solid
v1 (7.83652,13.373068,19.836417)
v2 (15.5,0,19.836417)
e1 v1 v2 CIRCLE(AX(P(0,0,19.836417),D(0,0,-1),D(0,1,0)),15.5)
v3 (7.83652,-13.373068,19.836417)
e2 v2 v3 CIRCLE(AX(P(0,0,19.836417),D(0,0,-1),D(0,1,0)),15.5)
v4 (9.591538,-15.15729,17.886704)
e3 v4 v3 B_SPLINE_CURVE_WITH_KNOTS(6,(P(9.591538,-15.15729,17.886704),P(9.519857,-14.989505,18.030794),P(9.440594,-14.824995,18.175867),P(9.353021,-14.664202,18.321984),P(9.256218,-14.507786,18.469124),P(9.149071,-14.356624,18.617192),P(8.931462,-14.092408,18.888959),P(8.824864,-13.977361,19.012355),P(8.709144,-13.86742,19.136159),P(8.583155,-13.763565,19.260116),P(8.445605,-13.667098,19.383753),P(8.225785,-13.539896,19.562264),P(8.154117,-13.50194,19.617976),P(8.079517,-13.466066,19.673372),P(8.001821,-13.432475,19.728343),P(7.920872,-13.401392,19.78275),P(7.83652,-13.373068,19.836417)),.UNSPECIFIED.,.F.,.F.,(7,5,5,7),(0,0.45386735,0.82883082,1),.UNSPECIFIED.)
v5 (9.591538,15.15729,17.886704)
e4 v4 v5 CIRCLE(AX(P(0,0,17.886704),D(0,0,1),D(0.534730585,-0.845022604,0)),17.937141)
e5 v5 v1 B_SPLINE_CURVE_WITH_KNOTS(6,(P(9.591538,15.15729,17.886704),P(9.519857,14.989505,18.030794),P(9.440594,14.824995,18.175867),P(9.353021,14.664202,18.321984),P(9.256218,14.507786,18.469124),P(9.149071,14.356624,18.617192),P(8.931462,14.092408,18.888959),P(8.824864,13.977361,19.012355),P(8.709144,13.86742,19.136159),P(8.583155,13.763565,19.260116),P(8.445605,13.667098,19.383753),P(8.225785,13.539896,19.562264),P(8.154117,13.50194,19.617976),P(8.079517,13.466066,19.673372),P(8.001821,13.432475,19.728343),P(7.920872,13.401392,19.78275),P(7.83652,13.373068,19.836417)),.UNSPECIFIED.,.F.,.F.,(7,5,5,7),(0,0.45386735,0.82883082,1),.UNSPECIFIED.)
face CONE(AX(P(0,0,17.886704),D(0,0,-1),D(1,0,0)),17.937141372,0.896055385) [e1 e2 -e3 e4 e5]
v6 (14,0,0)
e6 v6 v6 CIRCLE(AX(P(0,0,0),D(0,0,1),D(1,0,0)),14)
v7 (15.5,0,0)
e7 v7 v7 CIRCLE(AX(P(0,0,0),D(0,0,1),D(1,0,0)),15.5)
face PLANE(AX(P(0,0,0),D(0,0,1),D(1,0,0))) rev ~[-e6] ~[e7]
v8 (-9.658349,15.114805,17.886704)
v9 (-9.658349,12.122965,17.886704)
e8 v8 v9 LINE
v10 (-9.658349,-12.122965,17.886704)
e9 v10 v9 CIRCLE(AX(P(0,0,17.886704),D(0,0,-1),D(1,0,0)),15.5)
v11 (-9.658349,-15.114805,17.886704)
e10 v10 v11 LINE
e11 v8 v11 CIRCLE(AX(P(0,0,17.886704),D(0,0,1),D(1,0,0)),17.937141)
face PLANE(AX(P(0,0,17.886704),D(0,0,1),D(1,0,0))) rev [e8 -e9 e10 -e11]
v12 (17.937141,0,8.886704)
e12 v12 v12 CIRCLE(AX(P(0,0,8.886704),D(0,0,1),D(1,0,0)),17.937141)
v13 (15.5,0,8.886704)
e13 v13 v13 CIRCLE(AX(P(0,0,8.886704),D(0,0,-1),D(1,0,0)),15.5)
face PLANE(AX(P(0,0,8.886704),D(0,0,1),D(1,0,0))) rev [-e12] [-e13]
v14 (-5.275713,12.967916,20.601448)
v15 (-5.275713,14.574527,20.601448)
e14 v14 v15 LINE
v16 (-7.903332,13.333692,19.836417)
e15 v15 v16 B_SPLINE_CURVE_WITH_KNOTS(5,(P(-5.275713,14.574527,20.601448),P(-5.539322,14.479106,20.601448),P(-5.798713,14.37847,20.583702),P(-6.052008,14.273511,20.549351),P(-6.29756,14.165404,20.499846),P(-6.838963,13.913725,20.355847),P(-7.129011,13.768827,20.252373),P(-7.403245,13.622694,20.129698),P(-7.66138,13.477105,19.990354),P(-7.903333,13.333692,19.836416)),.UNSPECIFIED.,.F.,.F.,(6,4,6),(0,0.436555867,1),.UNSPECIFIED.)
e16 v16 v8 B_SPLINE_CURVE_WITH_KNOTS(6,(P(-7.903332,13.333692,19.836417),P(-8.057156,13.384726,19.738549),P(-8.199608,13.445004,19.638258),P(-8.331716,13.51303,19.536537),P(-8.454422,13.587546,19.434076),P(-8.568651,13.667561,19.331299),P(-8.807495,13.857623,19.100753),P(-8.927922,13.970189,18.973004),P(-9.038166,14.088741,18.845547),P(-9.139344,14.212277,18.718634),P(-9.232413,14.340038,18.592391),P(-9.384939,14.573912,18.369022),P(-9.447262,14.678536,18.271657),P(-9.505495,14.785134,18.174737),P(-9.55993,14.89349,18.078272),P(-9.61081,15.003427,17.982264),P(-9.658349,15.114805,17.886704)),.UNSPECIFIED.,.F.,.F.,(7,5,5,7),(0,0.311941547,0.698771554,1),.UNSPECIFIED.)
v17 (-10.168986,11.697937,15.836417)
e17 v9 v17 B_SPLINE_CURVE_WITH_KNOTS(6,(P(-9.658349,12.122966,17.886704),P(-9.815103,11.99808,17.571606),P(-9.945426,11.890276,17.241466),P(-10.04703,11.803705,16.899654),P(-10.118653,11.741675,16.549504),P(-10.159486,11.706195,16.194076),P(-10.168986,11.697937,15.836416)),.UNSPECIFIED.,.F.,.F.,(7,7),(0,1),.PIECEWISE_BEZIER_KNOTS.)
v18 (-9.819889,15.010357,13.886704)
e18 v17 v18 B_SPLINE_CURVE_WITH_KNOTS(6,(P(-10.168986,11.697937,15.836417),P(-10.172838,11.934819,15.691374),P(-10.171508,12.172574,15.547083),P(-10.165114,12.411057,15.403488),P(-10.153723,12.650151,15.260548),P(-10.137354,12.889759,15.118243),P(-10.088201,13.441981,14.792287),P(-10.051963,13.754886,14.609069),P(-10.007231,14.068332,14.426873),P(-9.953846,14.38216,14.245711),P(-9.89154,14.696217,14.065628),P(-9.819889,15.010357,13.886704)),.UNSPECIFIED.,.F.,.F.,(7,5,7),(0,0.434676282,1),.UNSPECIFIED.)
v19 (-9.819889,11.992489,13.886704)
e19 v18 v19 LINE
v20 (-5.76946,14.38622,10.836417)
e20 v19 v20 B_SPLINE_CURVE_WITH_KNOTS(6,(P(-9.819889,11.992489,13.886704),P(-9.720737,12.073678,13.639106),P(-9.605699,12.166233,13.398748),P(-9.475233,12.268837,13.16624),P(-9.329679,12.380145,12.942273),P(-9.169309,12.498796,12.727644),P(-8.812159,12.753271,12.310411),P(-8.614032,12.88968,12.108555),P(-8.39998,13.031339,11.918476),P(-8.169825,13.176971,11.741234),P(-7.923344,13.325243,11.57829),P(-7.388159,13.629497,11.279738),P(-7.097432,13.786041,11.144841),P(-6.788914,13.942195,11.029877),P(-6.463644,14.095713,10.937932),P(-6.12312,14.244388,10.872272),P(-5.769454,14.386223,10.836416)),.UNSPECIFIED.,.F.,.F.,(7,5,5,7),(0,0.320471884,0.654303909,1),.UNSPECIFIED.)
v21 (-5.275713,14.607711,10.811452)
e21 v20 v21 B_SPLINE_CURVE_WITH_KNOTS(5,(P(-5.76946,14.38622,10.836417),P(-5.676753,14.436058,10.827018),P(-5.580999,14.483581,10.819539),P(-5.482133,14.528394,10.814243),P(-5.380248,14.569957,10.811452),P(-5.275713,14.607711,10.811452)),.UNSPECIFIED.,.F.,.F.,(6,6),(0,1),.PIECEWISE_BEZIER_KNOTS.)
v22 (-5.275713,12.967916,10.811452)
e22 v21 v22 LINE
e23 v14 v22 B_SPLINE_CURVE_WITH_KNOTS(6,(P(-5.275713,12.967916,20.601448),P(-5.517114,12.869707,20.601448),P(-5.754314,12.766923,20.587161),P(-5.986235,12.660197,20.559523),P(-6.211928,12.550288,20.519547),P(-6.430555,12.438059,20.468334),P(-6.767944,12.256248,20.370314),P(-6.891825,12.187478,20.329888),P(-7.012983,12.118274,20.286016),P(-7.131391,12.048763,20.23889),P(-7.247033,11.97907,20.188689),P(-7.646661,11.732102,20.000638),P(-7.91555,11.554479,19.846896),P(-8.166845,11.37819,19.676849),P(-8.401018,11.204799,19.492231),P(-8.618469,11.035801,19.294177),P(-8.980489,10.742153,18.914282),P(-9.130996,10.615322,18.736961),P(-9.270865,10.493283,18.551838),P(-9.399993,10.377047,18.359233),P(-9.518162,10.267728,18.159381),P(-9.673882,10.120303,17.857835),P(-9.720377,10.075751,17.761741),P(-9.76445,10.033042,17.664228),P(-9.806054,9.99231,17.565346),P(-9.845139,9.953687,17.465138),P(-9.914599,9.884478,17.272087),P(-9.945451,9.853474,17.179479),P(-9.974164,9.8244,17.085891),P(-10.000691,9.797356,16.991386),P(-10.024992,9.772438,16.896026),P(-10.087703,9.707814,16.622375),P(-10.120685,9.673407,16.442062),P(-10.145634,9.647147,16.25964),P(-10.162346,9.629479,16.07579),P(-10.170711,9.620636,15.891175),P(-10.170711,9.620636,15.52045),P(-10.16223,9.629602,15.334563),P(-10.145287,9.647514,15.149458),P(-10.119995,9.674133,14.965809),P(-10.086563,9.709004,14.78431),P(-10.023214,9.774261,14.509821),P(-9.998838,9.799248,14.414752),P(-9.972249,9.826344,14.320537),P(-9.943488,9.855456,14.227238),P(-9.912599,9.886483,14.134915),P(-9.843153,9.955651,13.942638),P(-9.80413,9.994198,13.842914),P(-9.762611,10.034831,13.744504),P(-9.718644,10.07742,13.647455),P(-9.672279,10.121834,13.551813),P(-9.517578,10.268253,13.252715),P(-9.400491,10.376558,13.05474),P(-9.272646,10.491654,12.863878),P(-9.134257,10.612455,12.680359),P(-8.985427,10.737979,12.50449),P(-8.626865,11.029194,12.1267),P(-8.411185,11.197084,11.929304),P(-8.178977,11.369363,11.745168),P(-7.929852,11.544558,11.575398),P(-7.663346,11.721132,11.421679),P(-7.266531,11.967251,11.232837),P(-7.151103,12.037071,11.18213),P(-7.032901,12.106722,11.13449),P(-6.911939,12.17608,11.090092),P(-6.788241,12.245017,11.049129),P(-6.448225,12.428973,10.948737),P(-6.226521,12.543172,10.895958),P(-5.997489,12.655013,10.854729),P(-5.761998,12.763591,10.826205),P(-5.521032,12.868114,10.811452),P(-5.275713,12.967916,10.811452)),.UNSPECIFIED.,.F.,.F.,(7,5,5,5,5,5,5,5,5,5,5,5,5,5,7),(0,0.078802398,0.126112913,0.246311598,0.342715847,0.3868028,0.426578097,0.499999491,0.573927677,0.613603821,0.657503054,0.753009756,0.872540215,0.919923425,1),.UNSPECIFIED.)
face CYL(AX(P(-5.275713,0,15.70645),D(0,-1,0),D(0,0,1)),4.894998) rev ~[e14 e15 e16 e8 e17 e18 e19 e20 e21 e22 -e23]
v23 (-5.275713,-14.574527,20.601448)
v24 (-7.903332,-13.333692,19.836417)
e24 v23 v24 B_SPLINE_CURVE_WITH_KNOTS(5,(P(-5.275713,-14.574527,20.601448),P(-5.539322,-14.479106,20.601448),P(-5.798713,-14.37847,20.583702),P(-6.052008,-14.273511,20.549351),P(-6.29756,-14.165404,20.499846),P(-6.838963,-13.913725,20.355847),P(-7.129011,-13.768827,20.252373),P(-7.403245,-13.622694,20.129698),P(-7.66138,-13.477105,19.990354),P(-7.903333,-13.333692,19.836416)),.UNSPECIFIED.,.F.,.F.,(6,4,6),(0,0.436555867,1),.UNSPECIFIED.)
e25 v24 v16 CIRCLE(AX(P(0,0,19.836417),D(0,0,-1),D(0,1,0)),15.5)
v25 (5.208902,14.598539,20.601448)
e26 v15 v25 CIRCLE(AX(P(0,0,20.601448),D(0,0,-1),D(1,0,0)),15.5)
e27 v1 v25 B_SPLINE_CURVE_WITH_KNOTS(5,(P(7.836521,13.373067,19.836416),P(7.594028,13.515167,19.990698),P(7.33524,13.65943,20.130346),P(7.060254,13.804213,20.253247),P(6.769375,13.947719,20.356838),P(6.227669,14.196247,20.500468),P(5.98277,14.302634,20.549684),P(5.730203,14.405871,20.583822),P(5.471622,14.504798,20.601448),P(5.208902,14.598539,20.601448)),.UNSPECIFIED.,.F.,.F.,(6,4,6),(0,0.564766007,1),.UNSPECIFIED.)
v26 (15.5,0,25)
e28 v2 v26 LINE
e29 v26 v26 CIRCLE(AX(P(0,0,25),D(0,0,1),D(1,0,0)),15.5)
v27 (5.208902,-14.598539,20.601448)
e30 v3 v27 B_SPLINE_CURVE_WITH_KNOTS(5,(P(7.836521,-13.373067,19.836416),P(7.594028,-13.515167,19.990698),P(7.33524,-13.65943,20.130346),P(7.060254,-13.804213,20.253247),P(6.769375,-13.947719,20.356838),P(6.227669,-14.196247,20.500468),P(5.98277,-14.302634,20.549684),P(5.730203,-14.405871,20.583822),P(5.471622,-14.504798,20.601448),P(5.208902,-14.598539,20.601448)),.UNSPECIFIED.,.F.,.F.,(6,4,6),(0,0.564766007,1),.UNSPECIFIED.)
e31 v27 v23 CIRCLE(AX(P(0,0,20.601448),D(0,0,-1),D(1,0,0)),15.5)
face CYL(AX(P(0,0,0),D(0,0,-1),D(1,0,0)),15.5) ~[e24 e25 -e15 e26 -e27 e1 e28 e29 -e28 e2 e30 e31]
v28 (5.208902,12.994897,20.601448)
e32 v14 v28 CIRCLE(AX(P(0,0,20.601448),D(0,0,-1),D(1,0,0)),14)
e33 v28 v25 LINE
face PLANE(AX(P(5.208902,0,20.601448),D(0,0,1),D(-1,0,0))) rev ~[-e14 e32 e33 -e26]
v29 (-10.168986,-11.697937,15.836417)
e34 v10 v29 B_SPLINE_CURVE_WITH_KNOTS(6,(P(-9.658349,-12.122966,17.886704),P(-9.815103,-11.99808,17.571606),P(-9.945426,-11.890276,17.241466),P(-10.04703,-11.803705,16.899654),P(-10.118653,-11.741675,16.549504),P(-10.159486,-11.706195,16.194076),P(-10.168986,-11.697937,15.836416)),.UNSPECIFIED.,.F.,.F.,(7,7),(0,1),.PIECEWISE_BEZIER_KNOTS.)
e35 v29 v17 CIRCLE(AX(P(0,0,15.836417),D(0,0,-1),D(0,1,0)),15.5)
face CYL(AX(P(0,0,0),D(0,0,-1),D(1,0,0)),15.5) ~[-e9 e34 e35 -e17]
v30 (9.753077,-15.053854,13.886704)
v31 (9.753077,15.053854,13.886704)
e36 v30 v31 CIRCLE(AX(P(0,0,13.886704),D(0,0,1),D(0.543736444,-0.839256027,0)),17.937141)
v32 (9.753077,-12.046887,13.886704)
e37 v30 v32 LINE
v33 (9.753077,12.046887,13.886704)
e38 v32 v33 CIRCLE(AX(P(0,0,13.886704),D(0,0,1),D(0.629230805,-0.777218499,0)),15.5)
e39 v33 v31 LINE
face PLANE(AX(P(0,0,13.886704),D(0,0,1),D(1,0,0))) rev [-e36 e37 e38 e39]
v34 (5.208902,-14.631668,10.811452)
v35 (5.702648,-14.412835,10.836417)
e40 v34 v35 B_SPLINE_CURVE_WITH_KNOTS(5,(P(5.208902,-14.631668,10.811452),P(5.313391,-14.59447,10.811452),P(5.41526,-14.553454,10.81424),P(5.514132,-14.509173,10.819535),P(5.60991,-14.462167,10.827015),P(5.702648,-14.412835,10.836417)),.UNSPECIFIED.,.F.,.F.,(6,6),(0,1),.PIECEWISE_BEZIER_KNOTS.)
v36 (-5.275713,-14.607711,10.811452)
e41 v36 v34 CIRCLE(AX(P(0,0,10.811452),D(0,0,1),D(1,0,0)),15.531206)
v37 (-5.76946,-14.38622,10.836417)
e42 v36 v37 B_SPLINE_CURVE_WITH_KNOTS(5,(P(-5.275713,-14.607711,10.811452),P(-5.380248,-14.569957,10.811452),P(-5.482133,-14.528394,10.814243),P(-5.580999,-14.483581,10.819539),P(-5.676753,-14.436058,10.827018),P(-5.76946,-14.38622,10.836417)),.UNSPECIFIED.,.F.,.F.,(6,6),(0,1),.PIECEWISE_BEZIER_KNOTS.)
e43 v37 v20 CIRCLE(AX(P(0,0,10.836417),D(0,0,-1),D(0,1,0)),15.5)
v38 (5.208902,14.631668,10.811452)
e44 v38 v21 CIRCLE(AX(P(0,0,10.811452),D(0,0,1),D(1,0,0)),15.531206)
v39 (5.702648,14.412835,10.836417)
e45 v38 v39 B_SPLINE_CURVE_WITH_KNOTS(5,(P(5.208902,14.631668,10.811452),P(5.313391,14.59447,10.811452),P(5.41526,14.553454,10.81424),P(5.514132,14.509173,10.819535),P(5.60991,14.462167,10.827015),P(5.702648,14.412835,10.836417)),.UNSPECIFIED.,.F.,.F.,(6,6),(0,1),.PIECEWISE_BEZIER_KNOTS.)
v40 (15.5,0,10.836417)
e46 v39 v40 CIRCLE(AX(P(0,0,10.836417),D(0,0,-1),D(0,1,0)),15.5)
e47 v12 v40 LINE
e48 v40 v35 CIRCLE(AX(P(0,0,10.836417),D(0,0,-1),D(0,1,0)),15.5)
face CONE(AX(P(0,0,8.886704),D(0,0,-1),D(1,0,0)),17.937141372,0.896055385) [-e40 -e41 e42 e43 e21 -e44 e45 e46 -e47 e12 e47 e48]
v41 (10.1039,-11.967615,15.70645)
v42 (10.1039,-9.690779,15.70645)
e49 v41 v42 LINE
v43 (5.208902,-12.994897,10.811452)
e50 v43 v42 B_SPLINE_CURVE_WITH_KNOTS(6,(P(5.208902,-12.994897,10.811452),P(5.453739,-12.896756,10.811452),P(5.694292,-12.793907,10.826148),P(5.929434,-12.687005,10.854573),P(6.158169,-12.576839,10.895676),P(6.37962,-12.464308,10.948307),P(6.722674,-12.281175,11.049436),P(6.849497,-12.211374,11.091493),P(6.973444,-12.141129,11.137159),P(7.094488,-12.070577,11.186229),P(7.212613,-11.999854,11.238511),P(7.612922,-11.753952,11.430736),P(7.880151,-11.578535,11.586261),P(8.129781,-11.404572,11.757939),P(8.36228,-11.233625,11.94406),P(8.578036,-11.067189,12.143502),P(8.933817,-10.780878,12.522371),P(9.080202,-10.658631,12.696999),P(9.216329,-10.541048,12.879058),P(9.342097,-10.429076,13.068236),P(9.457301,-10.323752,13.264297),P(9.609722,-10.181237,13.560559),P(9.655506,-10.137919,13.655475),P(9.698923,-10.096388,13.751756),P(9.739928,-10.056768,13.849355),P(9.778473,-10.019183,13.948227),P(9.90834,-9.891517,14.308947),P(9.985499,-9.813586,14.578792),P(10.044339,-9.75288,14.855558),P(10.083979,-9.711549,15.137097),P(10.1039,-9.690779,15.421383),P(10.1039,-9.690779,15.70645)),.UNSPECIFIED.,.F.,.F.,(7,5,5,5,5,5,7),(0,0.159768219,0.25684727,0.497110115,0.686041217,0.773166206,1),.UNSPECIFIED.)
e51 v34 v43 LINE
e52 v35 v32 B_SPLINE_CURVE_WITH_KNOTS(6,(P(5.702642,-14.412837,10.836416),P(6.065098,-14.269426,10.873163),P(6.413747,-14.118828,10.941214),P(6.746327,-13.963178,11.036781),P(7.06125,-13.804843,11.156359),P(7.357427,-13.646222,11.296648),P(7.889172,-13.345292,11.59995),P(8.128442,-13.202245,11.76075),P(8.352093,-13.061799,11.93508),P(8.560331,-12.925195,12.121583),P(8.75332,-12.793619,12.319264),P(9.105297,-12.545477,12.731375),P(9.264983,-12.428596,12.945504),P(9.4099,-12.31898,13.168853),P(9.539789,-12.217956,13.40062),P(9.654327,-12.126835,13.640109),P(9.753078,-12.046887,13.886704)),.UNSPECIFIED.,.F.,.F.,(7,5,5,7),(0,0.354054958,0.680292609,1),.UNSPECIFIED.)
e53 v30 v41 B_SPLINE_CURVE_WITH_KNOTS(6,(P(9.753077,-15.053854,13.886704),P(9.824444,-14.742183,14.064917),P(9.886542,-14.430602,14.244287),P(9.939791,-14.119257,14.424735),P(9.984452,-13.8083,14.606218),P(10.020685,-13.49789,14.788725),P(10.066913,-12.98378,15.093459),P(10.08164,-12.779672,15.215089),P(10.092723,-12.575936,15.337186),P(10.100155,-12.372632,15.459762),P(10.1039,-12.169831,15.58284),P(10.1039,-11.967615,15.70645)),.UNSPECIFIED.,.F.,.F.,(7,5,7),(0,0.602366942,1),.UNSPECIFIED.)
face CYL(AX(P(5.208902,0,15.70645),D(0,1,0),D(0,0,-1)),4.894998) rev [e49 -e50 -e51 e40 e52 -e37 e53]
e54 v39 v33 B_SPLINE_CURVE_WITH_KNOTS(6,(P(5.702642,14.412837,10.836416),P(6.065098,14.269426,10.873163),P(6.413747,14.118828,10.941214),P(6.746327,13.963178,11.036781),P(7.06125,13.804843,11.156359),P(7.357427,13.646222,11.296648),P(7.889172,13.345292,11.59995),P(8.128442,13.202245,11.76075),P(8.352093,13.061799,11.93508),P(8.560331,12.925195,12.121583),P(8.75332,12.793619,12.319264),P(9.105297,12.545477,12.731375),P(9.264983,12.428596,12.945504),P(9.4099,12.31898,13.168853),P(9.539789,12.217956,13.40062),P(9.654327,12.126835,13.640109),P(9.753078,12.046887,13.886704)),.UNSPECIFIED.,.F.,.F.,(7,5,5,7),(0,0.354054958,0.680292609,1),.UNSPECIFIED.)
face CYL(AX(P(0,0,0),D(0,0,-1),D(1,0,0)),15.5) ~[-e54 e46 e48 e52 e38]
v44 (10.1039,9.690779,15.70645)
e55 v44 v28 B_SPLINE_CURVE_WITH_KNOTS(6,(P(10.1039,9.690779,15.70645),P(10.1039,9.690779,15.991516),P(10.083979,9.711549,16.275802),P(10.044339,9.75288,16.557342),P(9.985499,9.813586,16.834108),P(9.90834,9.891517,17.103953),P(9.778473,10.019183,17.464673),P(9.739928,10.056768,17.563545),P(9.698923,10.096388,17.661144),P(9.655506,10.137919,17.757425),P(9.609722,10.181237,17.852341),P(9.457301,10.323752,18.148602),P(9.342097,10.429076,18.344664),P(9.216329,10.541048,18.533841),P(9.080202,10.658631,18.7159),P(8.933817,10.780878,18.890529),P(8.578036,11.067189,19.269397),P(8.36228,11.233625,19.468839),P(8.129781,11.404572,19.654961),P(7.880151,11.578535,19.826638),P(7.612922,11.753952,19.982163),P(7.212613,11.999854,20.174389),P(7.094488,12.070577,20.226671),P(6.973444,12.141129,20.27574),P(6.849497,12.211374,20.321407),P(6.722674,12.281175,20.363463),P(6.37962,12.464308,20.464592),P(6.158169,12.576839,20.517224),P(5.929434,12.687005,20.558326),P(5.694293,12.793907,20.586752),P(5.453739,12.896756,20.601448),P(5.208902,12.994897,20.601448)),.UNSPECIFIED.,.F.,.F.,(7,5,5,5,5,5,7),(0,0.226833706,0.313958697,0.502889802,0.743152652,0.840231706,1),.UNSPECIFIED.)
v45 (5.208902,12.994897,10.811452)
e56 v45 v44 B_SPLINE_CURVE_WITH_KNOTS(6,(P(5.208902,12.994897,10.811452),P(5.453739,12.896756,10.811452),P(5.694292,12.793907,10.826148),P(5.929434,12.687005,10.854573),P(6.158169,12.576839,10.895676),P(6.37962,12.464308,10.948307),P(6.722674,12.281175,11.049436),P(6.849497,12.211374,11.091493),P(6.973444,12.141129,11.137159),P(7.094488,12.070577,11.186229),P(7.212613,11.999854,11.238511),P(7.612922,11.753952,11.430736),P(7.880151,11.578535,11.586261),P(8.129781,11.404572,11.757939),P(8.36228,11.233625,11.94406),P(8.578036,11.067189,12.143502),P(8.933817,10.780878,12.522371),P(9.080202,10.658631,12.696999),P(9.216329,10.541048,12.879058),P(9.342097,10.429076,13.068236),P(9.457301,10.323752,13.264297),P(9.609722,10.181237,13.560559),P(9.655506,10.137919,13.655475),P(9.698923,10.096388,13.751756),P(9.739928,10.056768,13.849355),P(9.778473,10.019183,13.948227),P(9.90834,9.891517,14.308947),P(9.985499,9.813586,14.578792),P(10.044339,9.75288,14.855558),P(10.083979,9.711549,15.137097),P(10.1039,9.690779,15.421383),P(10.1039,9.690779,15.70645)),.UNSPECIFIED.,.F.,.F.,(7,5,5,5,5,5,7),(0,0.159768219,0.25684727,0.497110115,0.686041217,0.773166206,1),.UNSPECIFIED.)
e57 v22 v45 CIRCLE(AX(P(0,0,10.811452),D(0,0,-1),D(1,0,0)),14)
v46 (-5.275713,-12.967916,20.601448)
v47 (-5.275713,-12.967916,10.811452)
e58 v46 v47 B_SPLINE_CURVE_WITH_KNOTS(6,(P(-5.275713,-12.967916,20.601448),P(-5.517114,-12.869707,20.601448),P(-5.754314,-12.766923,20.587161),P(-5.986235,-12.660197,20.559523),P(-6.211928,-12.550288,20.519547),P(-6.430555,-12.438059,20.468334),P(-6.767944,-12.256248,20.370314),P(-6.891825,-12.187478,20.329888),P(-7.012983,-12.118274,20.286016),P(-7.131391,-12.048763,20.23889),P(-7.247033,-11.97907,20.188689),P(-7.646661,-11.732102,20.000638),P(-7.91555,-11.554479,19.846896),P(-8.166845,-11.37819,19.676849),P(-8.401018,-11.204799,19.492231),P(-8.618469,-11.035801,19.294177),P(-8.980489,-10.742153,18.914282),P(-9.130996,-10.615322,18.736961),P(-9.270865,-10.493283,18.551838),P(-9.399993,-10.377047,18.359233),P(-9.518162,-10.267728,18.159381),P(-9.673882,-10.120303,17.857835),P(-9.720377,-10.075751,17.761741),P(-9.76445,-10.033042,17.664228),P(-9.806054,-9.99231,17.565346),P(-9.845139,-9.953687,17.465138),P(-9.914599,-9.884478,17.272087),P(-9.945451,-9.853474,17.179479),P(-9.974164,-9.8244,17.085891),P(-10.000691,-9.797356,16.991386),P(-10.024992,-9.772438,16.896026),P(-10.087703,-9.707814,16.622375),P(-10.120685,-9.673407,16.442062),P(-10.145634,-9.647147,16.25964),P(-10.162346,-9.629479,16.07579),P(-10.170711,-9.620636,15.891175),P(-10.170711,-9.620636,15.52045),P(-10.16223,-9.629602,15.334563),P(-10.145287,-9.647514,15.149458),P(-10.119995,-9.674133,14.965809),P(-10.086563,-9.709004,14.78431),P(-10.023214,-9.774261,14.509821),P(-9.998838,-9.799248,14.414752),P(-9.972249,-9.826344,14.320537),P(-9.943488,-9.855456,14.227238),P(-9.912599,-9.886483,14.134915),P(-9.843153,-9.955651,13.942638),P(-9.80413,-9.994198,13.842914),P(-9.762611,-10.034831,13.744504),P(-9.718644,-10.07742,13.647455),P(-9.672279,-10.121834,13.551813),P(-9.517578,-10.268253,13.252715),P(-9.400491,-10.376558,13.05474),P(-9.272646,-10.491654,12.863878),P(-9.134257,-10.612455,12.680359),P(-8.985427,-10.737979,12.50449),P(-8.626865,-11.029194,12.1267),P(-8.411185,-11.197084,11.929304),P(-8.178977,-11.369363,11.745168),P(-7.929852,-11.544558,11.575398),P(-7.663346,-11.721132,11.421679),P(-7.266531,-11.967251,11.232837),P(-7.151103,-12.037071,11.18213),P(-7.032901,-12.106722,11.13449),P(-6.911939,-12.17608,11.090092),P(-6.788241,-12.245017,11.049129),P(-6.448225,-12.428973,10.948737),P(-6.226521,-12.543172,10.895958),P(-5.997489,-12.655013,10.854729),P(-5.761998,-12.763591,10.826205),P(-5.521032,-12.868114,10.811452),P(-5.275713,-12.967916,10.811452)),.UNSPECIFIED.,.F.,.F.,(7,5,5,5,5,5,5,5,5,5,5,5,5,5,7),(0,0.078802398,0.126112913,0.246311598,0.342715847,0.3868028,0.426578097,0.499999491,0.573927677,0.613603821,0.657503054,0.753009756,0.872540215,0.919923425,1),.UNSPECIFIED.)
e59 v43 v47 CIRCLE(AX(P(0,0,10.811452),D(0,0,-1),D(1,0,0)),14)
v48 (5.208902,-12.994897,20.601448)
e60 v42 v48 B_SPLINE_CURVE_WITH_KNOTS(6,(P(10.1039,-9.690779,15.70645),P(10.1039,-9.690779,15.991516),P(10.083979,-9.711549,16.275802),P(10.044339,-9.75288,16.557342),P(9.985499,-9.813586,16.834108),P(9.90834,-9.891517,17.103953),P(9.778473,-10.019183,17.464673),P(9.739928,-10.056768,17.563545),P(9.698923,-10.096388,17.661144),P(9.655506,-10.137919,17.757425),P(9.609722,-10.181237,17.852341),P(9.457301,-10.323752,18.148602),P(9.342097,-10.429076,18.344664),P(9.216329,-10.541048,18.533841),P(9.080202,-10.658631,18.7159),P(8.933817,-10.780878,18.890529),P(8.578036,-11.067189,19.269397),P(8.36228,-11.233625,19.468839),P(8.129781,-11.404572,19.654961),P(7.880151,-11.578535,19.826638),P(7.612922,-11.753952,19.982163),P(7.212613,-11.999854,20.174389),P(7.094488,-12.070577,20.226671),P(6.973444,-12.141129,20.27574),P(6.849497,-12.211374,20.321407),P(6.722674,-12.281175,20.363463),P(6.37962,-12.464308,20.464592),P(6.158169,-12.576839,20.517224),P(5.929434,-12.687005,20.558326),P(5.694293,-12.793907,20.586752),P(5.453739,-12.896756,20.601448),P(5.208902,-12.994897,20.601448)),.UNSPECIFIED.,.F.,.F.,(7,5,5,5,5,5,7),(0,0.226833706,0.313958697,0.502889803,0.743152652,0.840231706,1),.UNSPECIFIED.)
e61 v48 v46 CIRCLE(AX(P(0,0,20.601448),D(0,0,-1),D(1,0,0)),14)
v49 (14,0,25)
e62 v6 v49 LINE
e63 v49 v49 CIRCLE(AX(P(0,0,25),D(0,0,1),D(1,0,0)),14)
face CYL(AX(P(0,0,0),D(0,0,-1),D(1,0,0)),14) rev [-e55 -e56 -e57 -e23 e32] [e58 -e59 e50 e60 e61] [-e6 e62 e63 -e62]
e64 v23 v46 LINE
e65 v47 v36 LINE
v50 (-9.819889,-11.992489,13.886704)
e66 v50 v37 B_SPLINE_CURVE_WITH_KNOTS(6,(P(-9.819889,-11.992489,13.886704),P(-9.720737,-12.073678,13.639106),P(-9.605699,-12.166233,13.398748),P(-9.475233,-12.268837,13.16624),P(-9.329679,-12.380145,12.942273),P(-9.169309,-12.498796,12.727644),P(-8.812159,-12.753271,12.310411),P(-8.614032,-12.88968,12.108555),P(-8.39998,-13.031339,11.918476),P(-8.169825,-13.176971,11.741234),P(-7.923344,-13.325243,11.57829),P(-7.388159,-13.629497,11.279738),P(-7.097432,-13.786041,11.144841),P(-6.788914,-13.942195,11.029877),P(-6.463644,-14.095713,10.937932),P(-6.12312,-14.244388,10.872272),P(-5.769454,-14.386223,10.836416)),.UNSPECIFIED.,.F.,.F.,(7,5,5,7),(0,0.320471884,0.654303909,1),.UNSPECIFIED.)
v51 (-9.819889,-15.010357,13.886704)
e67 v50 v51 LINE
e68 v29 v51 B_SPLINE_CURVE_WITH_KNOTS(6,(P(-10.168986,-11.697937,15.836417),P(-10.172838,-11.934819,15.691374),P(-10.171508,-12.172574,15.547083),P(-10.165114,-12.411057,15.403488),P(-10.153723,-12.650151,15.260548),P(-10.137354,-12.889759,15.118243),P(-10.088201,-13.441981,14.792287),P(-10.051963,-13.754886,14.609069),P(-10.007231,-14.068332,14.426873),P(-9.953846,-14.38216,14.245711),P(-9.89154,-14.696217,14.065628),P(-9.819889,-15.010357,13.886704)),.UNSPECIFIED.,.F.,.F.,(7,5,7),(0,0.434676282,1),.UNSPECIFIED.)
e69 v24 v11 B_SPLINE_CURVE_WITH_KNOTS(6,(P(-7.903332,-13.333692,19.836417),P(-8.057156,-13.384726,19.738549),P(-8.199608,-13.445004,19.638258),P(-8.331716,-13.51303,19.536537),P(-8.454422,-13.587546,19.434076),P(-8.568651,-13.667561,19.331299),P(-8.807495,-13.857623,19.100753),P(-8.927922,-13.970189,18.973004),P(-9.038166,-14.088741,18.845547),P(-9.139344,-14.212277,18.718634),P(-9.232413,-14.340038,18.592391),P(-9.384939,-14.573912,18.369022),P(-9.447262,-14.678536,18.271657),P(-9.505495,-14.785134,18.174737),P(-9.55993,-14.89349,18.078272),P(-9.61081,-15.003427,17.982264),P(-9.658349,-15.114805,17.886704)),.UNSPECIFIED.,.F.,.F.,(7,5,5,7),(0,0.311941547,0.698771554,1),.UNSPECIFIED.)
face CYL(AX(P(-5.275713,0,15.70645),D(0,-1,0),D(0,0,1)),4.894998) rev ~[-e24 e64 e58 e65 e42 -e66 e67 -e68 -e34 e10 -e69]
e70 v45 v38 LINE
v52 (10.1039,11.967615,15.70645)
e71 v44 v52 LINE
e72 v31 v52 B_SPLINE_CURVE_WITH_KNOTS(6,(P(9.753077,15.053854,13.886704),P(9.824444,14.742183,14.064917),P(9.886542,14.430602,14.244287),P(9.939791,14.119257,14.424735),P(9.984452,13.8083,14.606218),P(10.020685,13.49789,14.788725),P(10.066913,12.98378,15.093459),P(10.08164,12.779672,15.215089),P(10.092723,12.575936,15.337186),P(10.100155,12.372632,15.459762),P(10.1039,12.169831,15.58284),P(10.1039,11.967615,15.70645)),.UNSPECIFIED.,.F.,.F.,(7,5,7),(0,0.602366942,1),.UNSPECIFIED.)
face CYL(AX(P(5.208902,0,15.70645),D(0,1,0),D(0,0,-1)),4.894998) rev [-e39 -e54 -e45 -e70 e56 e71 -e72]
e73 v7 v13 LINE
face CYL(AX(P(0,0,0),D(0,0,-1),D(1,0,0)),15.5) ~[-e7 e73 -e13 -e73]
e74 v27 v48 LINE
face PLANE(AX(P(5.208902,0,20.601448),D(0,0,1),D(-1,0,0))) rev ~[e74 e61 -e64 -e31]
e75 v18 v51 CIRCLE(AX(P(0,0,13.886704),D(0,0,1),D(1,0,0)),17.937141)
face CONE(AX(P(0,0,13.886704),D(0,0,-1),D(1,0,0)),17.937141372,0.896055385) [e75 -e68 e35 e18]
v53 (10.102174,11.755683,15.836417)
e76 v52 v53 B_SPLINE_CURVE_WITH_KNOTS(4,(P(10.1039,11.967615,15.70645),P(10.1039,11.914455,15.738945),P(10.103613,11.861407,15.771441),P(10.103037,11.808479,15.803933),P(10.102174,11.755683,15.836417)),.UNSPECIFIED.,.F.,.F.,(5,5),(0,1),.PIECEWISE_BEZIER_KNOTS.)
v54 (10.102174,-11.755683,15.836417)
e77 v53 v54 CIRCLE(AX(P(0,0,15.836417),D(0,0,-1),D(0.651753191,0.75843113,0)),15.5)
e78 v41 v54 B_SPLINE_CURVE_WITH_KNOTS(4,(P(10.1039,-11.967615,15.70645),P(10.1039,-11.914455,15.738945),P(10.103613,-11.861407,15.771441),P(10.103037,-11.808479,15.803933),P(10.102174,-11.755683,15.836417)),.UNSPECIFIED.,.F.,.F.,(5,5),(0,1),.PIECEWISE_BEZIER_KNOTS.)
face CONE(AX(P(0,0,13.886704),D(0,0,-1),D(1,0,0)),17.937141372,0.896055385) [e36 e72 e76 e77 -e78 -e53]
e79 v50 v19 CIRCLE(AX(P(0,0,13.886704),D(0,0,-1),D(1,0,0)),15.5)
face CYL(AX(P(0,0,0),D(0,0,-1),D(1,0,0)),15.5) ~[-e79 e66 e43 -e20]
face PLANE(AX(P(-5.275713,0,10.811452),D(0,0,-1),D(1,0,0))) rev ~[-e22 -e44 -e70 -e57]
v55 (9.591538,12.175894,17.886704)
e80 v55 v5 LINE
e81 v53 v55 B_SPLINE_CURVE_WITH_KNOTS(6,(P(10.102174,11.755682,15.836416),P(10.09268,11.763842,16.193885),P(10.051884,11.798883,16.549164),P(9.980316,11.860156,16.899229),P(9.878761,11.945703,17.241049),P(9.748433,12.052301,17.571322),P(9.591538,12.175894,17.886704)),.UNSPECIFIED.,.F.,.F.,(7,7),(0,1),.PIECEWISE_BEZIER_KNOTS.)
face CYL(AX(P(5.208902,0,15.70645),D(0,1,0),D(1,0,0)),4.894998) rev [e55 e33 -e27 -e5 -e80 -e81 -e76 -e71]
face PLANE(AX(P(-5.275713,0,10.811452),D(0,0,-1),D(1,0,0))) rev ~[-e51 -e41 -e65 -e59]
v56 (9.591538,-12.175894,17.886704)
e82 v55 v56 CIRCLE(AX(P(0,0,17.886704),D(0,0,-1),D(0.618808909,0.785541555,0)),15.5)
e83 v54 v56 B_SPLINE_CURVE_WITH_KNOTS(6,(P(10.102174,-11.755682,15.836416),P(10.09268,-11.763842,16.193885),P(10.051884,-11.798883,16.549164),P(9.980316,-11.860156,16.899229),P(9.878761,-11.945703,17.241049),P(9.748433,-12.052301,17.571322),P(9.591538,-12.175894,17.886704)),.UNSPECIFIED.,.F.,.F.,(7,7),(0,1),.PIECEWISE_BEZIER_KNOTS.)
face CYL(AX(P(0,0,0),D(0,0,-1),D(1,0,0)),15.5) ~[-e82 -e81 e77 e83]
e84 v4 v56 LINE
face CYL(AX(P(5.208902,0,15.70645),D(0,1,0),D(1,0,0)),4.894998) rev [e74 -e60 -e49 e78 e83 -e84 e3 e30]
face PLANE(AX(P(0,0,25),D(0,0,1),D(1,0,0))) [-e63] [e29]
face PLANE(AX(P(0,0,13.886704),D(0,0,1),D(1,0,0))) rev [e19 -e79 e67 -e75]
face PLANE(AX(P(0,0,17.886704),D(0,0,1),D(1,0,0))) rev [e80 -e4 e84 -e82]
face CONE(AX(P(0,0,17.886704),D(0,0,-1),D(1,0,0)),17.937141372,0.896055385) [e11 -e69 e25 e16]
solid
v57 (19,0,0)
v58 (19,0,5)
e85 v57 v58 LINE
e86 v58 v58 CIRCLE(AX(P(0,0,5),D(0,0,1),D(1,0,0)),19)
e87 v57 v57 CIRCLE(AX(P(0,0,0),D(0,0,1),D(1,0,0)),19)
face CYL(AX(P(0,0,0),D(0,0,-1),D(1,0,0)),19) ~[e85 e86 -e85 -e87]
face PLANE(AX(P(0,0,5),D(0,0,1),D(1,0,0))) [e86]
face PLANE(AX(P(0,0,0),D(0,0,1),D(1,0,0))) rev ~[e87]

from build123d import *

# Parameters (mm, degrees)
F0_R     = 19
F0_R_2   = 15.5
F0_R_3   = 14
F1_DEPTH = 5
F2_DEPTH = 25
F6_DEPTH = 25


with BuildPart() as f1:
    # F0 (on Top) → F1 (new body)
    with BuildSketch(Plane.XY):
        Circle(F0_R)
        Circle(F0_R_2, mode=Mode.SUBTRACT)
        Circle(F0_R_2)
        Circle(F0_R_3, mode=Mode.SUBTRACT)
        Circle(F0_R_3)
    extrude(amount=F1_DEPTH)


with BuildPart() as f2:
    # F0 (on Top) → F2 (new body)
    with BuildSketch(Plane.XY):
        Circle(F0_R_2)
        Circle(F0_R_3, mode=Mode.SUBTRACT)
    extrude(amount=F2_DEPTH)

    # F3 (on Front) → F4 (revolve)
    with BuildSketch(Plane.XZ):
        Polygon((17.9371413716, 13.8867036179), (15.4371413716, 15.8867036179), (15.4371413716, 13.8867036179), align=None)
        Polygon((17.9371413716, 17.8867037556), (15.4371413716, 19.8867037556), (15.4371413716, 17.8867037556), align=None)
        Polygon((17.9371413716, 8.8867037271), (15.4371413716, 10.8867037271), (15.4371413716, 8.8867037271), align=None)
    revolve(axis=Axis((0, 0, 18.7137275934), (0, 0, 1)))


with BuildPart() as f6:
    # F5 (on Front) → F6 (new body, symmetric)
    with BuildSketch(Plane.XZ):
        with BuildLine():
            ThreePointArc((-5.2757132798, 10.8114516745), (-1.8144269488, 12.2451634161), (-0.3807152072, 15.7064497471))
            ThreePointArc((-0.3807152072, 15.7064497471), (-1.8144269488, 19.1677360781), (-5.2757132798, 20.6014478197))
            ThreePointArc((-5.2757132798, 20.6014478197), (-10.1707113524, 15.7064497471), (-5.2757132798, 10.8114516745))
        make_face()
        with BuildLine():
            ThreePointArc((10.1039001336, 15.7064497471), (8.670188392, 19.1677360781), (5.208902061, 20.6014478197))
            ThreePointArc((5.208902061, 20.6014478197), (0.3139039884, 15.7064497471), (5.208902061, 10.8114516745))
            ThreePointArc((5.208902061, 10.8114516745), (8.670188392, 12.2451634161), (10.1039001336, 15.7064497471))
        make_face()
        with BuildLine():
            ThreePointArc((-5.2757132798, 20.6014478197), (-1.8144269488, 19.1677360781), (-0.3807152072, 15.7064497471))
            ThreePointArc((-0.3807152072, 15.7064497471), (-1.8144269488, 12.2451634161), (-5.2757132798, 10.8114516745))
            Line((-5.2757132798, 10.8114516745), (5.208902061, 10.8114516745))
            ThreePointArc((5.208902061, 10.8114516745), (0.3139039884, 15.7064497471), (5.208902061, 20.6014478197))
            Line((5.208902061, 20.6014478197), (-5.2757132798, 20.6014478197))
        make_face()
    extrude(amount=F6_DEPTH, both=True)


with BuildPart() as f2_1:
    add(f2.part)

    # F7: cut F6
    add(f6.part, mode=Mode.SUBTRACT)


solid = Compound([f1.part, f2_1.part])
